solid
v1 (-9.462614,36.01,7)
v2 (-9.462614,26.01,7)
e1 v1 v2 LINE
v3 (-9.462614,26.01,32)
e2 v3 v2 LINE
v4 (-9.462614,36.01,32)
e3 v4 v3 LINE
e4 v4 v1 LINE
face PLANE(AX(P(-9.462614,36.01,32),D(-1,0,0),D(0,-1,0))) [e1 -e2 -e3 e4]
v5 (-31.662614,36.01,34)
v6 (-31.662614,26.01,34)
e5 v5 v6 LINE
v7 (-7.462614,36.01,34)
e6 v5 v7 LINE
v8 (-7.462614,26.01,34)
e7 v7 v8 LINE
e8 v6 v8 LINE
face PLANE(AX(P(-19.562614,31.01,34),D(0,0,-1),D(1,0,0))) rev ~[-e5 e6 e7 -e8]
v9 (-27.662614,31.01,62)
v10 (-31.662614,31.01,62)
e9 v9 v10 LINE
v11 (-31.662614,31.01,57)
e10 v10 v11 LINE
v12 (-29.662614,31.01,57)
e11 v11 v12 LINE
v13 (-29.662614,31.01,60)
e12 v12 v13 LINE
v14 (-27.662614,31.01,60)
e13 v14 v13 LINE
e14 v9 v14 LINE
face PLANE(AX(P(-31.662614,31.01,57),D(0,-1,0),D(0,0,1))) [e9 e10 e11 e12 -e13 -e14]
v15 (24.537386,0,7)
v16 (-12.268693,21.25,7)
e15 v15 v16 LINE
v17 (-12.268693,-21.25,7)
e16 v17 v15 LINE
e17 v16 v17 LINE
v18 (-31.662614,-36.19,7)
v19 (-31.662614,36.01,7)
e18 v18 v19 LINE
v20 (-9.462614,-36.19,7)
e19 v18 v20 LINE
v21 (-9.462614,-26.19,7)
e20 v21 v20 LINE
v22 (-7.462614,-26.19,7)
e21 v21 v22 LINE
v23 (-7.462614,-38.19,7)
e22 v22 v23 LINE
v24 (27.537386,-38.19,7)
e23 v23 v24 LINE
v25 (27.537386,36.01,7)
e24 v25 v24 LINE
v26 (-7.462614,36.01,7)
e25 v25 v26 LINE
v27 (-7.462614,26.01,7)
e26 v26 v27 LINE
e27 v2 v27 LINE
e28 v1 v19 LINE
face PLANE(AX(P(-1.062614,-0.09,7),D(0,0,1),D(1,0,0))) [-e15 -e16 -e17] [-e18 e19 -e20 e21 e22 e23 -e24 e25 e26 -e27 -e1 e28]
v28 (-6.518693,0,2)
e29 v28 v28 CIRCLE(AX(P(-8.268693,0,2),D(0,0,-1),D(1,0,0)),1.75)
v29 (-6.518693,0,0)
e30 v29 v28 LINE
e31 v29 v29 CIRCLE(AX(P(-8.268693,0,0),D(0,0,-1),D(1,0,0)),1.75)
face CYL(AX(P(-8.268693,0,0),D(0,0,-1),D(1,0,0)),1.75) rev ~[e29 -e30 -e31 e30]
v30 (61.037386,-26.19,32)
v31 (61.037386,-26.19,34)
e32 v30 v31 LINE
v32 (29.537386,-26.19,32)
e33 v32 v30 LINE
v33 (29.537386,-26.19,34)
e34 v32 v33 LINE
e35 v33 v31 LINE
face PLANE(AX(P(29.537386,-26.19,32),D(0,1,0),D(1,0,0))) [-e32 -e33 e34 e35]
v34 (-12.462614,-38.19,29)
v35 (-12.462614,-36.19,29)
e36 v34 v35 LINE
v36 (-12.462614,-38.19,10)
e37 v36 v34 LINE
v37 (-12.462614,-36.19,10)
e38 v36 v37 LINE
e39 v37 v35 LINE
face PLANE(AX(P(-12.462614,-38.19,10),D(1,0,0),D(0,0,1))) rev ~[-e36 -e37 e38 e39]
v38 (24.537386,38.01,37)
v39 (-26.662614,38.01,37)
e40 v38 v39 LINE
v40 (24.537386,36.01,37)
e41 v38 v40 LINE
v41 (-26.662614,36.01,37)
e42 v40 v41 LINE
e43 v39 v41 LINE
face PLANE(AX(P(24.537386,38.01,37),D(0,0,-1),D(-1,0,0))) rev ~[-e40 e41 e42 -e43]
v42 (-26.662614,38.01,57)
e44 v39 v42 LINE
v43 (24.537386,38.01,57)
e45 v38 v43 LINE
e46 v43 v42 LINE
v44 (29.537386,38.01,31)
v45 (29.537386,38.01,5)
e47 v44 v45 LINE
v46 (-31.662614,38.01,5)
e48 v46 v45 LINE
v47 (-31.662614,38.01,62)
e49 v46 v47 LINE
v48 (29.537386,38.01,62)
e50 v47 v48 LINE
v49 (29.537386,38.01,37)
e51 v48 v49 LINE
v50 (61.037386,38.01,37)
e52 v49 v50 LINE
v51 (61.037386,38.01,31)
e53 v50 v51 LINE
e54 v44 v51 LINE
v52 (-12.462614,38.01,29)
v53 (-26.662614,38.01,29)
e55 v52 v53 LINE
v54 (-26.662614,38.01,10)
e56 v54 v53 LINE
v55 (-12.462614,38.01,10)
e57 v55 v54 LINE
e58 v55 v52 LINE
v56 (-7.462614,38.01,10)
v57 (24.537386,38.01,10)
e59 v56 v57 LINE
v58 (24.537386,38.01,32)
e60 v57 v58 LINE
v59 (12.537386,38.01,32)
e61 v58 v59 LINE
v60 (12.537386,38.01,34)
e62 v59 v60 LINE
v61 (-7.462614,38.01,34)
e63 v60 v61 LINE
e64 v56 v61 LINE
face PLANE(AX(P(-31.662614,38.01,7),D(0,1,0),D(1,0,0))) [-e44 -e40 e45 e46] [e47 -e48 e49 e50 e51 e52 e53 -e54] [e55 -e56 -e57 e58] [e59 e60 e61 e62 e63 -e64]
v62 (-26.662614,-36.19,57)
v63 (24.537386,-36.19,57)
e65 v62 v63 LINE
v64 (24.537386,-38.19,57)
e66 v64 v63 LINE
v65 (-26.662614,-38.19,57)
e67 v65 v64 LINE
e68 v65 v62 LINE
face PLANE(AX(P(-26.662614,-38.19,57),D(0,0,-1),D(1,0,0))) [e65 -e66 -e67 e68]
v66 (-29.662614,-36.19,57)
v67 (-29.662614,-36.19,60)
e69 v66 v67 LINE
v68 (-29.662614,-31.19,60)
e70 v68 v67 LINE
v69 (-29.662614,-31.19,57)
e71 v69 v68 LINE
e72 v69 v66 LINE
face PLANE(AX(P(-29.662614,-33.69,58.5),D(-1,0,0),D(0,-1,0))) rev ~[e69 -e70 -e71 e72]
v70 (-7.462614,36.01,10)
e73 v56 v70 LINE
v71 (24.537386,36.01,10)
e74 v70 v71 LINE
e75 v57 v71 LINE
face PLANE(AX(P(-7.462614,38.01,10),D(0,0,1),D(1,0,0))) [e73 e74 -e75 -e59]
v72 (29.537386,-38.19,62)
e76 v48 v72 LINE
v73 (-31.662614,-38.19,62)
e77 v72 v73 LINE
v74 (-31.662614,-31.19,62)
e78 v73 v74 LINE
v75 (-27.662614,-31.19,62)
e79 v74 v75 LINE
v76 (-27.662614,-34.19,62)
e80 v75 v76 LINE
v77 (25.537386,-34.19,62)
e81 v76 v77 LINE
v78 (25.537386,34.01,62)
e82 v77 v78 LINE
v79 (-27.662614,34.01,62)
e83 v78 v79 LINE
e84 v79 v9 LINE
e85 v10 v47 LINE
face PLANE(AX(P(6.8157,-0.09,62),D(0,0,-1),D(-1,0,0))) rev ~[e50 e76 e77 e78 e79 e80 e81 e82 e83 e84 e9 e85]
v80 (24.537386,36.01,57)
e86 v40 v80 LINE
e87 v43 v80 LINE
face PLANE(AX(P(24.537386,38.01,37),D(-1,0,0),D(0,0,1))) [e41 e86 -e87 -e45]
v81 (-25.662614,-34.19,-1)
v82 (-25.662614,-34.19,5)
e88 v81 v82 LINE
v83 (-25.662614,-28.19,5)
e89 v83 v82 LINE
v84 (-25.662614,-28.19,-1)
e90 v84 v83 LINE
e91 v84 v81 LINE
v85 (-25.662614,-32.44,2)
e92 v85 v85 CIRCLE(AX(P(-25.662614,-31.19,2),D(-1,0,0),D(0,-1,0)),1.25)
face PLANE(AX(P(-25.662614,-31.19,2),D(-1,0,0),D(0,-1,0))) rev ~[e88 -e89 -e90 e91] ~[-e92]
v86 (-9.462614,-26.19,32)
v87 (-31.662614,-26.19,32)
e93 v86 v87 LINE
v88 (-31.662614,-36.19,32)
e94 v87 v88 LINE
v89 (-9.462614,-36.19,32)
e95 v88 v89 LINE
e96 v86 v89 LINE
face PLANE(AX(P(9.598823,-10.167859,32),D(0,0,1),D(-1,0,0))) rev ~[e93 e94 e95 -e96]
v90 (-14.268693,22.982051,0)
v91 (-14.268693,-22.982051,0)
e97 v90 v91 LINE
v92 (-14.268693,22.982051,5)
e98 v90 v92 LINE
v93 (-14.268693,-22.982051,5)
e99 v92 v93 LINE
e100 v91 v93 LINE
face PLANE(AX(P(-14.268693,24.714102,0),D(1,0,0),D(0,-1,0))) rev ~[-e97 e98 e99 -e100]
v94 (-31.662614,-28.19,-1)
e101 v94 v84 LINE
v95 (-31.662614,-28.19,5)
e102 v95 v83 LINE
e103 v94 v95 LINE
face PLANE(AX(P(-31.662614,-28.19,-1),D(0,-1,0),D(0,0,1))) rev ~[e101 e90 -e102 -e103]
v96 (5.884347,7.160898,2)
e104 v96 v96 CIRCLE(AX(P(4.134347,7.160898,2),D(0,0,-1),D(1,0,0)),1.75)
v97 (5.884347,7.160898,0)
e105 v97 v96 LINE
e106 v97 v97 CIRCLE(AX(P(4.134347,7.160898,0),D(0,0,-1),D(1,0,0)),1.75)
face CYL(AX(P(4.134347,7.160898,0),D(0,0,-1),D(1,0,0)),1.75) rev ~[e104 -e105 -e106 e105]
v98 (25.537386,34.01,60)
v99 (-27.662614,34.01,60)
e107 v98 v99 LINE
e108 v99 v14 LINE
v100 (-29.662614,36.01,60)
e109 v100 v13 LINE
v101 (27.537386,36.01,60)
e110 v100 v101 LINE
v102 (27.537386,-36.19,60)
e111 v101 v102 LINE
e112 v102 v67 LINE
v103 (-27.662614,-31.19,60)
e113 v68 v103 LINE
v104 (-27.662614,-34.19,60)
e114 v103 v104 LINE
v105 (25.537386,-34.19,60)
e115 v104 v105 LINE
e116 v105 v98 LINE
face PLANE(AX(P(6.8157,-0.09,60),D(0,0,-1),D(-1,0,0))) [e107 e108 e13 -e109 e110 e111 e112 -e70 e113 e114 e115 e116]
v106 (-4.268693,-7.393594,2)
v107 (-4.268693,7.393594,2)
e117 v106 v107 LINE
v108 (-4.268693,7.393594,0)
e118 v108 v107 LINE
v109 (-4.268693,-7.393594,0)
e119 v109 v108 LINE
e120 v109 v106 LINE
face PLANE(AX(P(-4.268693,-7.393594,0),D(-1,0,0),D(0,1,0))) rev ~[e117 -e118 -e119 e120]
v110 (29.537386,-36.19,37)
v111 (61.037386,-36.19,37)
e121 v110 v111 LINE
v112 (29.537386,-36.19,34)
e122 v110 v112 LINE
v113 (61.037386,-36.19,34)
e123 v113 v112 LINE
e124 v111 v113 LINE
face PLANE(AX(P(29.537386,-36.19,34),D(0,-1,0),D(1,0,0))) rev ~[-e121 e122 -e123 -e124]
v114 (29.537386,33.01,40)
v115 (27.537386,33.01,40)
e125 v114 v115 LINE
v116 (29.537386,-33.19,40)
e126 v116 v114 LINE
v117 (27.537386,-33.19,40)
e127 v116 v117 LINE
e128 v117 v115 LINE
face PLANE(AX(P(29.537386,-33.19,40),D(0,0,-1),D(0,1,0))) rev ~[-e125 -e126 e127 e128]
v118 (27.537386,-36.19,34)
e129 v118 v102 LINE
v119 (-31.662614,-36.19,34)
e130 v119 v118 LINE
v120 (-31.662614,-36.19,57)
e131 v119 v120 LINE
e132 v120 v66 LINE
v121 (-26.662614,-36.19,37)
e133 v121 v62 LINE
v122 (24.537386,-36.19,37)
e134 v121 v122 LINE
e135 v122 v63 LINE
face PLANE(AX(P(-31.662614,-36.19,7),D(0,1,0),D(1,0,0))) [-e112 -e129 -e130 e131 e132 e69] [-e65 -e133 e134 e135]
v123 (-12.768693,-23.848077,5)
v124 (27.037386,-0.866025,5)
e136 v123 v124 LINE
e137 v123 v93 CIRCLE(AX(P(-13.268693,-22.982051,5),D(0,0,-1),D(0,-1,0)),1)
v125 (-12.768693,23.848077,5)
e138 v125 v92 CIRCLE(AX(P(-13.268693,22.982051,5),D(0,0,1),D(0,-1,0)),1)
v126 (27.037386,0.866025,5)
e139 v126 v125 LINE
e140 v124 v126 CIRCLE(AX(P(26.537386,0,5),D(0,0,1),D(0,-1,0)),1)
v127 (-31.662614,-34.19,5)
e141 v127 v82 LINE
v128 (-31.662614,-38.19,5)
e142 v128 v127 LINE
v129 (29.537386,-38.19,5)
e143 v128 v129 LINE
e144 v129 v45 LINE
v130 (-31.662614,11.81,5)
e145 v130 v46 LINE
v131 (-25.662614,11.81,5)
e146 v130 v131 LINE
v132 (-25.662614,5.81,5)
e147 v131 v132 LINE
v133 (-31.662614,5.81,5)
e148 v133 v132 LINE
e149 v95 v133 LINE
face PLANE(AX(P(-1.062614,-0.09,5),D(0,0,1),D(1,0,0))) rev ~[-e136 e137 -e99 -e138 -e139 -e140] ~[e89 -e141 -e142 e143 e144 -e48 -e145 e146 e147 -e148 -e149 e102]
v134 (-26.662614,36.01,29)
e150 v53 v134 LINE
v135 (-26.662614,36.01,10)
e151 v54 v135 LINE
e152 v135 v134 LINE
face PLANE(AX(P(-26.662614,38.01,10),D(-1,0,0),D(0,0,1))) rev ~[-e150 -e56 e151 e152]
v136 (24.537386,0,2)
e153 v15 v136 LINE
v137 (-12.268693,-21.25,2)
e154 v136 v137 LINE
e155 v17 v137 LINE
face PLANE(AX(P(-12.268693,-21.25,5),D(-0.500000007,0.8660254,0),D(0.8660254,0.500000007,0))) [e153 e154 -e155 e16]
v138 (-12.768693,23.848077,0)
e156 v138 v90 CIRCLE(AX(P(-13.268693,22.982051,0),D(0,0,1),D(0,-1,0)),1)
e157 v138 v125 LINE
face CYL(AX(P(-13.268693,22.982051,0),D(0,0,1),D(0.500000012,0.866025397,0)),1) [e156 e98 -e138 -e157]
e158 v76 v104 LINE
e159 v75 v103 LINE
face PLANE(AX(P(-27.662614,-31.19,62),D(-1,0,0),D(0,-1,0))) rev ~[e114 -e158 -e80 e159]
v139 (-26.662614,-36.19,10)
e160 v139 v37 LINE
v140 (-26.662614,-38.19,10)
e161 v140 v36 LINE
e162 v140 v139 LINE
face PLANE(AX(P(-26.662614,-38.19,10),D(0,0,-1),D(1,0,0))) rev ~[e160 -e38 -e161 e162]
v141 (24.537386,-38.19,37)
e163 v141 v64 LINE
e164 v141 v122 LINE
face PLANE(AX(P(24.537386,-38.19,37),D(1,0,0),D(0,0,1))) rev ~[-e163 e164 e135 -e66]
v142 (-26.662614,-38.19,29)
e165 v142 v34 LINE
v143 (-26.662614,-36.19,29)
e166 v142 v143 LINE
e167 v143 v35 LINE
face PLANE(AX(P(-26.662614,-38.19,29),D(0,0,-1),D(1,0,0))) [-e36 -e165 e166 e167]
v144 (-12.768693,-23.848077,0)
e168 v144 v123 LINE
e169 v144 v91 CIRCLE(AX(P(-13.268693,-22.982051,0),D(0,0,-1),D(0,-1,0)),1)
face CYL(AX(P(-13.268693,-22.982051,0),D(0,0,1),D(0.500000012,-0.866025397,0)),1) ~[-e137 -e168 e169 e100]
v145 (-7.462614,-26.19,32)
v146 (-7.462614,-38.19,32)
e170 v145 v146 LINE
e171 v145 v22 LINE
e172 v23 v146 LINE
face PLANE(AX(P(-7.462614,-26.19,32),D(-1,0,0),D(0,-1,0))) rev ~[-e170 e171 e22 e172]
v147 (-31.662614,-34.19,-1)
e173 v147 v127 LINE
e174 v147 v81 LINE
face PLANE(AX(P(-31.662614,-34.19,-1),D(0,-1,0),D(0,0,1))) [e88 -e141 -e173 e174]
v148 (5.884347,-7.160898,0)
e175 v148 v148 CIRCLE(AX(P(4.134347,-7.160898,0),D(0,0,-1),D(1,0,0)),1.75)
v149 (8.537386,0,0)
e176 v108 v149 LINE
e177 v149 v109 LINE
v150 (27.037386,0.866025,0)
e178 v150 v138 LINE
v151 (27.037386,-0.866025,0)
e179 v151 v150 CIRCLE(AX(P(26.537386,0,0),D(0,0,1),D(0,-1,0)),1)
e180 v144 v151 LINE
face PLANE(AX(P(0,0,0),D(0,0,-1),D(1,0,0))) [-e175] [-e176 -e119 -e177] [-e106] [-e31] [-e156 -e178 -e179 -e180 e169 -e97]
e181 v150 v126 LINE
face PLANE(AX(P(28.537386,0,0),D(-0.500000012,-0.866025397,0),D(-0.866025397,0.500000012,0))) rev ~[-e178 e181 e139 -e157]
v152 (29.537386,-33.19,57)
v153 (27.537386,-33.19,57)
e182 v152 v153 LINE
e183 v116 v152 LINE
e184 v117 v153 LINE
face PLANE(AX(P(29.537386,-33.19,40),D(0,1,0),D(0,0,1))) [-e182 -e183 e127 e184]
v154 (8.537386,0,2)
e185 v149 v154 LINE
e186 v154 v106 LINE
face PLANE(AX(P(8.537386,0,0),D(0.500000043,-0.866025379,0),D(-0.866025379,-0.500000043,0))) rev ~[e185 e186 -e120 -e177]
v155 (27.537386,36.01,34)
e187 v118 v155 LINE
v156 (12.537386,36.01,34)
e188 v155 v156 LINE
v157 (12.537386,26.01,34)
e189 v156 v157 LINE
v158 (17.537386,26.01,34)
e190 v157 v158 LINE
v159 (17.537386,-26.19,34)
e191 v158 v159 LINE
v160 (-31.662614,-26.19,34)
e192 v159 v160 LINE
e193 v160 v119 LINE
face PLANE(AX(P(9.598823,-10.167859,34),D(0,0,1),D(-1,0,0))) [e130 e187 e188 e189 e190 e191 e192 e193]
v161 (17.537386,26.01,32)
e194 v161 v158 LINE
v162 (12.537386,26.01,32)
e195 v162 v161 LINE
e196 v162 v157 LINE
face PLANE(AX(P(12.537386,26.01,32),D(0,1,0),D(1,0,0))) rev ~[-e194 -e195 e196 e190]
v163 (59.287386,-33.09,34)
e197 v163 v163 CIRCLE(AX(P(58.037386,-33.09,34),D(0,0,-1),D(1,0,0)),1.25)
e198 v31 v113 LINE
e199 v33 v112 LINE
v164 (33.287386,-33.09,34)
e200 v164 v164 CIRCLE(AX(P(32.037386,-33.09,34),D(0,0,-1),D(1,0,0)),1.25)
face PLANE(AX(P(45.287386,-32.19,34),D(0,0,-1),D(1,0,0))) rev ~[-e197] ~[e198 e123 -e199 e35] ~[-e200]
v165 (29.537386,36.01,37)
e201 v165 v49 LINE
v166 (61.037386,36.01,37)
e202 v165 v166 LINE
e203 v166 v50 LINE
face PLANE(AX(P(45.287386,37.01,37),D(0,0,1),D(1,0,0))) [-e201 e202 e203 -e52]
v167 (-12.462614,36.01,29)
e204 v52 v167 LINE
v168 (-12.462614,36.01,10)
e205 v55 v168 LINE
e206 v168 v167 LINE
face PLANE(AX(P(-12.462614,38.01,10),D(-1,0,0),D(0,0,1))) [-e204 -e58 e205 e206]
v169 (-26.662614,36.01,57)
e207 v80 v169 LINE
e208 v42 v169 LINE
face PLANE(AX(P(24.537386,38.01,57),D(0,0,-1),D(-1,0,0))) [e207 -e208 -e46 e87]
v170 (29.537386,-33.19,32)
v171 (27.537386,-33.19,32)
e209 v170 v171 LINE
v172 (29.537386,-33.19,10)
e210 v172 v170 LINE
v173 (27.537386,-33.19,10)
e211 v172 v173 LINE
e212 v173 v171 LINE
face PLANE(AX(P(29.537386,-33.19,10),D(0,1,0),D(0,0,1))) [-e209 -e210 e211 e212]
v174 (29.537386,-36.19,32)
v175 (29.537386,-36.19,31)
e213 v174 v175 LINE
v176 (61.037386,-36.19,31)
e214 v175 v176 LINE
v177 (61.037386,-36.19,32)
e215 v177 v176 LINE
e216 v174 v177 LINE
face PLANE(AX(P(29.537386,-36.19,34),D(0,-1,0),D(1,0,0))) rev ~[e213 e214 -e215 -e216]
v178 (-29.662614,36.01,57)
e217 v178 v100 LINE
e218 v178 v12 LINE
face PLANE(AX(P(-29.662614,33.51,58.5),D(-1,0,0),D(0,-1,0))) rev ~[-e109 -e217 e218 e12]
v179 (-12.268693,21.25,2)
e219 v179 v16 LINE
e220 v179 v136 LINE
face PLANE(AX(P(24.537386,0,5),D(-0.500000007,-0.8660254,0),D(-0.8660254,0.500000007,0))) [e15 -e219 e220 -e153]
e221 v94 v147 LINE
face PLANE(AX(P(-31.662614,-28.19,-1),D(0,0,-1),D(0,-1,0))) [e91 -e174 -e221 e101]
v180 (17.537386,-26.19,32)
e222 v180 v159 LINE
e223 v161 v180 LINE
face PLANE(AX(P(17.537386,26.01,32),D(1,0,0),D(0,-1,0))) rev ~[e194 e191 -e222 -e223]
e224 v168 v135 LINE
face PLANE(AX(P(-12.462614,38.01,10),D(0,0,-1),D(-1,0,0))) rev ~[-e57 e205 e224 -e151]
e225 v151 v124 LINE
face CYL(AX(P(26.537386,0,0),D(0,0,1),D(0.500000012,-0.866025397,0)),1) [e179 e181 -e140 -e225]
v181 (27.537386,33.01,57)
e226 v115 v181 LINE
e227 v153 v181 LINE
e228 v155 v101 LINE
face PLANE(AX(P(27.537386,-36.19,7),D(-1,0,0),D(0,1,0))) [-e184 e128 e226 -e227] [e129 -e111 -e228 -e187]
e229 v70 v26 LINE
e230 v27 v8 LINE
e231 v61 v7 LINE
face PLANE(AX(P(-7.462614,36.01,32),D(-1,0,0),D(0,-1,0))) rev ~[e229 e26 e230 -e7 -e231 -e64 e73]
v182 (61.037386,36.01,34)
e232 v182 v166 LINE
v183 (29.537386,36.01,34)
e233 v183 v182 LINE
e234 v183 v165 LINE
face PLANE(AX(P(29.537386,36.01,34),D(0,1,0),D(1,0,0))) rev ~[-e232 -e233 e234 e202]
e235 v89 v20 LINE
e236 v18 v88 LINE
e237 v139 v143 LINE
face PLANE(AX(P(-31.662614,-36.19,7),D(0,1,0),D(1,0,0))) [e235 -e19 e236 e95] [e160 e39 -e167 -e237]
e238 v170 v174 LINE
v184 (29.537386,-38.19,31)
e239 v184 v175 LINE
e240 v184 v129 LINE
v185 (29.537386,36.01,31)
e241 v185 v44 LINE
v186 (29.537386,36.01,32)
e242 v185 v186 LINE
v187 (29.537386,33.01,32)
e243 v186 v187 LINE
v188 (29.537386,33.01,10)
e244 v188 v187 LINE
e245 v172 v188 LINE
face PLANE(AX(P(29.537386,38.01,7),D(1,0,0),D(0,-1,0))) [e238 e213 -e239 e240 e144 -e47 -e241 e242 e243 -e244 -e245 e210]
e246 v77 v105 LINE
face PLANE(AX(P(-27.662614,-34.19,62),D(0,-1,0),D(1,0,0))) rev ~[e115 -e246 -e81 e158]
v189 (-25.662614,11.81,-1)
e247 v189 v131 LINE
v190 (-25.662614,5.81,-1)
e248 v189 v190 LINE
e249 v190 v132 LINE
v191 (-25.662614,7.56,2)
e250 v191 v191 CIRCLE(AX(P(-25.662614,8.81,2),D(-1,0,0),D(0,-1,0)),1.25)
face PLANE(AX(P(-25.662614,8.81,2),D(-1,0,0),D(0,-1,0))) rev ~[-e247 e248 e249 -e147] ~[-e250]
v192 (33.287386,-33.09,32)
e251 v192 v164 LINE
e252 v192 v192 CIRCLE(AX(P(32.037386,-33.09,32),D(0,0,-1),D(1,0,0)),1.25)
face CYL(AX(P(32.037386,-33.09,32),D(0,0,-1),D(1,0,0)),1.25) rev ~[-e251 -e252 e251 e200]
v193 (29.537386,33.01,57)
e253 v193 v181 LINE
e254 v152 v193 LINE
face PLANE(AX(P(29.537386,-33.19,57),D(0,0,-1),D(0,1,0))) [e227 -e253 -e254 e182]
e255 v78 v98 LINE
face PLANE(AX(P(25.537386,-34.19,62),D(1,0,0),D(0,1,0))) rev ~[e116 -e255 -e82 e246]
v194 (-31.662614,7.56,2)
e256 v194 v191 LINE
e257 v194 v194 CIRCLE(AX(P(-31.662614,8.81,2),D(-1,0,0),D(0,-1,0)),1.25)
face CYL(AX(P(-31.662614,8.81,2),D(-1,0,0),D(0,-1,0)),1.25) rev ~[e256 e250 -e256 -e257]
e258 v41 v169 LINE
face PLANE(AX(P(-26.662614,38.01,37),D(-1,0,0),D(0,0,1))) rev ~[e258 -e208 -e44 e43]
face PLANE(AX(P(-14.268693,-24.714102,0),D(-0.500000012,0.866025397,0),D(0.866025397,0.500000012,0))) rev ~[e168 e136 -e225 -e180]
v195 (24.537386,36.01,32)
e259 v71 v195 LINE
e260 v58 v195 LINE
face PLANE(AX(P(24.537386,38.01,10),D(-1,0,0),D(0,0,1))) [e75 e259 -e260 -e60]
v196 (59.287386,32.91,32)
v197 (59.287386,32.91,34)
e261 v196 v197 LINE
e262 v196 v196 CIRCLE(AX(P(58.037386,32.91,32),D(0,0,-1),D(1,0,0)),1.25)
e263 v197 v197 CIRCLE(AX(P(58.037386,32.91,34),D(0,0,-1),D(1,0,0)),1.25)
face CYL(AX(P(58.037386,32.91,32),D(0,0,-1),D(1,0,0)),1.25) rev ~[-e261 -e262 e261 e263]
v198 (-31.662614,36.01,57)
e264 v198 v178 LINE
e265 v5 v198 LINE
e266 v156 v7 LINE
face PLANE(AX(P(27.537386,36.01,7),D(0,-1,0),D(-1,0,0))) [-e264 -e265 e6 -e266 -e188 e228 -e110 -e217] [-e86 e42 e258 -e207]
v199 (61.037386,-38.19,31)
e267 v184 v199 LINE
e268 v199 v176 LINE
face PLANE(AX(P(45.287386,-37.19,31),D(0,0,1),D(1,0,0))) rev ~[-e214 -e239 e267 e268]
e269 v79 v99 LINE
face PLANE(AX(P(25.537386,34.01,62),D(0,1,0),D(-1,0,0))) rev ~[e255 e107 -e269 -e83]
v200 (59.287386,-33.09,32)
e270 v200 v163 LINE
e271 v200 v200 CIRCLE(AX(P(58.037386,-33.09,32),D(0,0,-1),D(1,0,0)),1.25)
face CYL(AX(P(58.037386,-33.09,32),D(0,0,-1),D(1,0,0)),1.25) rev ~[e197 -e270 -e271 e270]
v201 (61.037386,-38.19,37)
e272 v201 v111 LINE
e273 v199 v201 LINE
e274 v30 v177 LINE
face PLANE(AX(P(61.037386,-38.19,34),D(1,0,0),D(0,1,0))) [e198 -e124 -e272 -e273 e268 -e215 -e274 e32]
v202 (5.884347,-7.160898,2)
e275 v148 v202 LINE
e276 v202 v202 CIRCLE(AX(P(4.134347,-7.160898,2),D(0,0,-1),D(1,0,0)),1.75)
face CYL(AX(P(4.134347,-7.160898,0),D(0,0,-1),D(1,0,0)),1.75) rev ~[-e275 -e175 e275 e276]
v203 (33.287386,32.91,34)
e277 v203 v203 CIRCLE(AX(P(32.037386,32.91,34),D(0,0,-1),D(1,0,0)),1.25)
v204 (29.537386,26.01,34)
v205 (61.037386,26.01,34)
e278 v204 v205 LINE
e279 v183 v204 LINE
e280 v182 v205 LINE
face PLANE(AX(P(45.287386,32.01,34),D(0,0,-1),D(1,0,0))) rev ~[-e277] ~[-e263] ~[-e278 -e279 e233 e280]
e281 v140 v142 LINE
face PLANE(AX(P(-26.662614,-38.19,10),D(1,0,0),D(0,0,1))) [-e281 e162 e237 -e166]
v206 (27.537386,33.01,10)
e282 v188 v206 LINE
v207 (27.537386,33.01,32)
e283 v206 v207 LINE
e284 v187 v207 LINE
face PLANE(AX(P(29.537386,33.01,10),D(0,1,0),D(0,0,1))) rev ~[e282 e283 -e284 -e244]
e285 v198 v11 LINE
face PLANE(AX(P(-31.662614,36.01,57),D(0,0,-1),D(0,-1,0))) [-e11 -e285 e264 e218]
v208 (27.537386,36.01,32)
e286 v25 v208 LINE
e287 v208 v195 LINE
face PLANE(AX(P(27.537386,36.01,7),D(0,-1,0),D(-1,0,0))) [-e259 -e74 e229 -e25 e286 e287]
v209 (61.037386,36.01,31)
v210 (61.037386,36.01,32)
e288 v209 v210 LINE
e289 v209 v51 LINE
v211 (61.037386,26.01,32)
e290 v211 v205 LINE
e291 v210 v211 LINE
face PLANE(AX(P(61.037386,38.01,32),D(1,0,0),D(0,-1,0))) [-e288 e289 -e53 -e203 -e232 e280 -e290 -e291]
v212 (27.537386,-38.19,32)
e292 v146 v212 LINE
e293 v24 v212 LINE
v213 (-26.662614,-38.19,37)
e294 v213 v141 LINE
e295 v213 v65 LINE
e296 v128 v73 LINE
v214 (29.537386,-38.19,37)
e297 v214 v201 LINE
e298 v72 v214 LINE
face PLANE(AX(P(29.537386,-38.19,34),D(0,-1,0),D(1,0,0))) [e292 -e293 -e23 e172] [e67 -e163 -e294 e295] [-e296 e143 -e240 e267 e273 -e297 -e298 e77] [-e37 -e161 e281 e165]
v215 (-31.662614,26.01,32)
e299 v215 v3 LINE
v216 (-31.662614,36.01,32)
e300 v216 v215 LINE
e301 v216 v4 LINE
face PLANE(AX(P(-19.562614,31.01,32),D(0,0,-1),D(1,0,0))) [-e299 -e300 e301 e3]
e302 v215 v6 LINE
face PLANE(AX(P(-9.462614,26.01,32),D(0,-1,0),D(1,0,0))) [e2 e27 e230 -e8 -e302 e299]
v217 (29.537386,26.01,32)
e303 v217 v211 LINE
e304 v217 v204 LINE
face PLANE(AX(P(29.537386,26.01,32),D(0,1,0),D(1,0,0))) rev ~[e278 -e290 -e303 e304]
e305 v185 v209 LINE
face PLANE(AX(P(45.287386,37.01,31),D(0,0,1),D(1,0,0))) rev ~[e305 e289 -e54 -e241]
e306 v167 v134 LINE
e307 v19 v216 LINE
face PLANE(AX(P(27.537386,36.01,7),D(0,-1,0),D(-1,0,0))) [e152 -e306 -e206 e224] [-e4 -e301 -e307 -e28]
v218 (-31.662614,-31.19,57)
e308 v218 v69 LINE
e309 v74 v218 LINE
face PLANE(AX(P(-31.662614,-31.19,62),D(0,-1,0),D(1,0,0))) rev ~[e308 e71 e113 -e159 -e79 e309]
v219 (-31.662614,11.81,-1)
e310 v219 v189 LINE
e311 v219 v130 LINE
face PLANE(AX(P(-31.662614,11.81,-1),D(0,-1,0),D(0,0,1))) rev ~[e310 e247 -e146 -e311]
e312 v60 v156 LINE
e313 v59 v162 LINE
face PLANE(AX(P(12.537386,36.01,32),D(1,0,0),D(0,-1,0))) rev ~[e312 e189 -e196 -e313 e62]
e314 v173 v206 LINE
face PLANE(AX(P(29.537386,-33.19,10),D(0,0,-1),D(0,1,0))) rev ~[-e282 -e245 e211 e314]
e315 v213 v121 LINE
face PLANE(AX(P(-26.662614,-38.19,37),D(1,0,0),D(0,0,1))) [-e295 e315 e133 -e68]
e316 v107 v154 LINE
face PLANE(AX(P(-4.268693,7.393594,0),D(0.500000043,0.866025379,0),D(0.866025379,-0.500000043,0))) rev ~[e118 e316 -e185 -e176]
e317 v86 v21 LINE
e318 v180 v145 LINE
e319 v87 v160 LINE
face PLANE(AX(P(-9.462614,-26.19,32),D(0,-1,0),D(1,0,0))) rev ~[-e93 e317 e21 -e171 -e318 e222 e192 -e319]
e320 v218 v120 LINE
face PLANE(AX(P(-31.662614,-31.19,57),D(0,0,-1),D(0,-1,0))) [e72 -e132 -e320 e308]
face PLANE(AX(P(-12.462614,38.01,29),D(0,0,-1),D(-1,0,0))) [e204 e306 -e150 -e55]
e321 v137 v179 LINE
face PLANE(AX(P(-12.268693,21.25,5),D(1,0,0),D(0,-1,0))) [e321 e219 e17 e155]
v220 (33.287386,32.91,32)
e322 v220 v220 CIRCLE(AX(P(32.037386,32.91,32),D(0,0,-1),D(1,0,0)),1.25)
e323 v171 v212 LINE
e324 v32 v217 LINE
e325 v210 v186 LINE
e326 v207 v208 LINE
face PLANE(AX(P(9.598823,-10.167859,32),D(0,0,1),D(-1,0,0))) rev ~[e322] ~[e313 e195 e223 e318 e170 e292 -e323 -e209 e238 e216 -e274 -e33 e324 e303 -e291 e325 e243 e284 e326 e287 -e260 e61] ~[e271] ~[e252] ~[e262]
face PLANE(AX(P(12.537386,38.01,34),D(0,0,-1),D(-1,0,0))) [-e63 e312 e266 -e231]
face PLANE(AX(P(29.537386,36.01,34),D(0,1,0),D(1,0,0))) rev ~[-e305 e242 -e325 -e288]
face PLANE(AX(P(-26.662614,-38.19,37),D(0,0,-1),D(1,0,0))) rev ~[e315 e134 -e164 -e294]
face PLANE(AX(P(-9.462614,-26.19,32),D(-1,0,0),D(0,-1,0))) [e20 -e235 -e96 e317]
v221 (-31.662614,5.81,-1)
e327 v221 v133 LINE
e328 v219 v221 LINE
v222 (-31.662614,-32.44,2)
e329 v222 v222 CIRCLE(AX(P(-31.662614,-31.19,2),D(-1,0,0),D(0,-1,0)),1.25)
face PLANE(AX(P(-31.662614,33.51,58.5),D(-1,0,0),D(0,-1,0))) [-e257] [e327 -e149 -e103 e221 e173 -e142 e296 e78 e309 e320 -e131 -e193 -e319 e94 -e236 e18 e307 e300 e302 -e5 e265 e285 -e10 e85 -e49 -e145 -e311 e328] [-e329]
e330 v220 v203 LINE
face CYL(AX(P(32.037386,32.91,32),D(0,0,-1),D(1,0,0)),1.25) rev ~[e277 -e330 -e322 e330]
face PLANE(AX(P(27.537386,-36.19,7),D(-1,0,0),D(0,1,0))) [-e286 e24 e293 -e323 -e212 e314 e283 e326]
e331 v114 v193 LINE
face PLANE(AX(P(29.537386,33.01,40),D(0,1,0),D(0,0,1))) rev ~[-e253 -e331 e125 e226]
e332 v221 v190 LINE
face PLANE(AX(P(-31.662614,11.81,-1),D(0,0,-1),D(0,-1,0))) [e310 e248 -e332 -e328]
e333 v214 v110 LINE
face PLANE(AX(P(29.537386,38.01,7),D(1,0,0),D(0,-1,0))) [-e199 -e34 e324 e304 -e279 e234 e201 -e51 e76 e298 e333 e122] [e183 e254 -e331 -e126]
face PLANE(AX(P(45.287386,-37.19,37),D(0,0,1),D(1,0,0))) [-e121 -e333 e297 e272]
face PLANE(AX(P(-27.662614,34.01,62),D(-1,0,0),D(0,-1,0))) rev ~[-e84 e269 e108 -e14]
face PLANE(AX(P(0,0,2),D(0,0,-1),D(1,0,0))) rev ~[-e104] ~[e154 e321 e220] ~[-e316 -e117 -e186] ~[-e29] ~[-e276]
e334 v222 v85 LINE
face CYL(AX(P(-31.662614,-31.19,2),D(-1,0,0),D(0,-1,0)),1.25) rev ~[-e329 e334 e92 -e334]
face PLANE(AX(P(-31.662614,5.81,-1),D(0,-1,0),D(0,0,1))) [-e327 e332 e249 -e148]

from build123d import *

# Parameters (mm, degrees)
PAD_DEPTH       = 5
FILLET_R        = 1
FILLET001_R     = 1
FILLET002_R     = 1
SKETCH001_R     = 1.75
PAD001_DEPTH    = 2
SKETCH002_W     = 61.2
SKETCH002_H     = 76.2
PAD002_DEPTH    = 2
PAD003_DEPTH    = 55
SKETCH004_W     = 35
SKETCH004_H     = 25
SKETCH004_W_2   = 14.2
SKETCH004_H_2   = 19
SKETCH004_W_3   = 51.2
SKETCH004_H_3   = 20
POCKET_DEPTH    = 2
SKETCH005_W     = 14.2
SKETCH005_H     = 19
SKETCH005_W_2   = 51.2
SKETCH005_H_2   = 20
POCKET001_DEPTH = 2
SKETCH006_W     = 66.2
SKETCH006_H     = 22
SKETCH006_H_2   = 17
POCKET002_DEPTH = 2
SKETCH007_W     = 24.2
SKETCH007_H     = 10
SKETCH007_W_2   = 31.5
SKETCH007_H_2   = 12
SKETCH007_R     = 1.25
PAD004_DEPTH    = 2
SKETCH008_W     = 31.5
SKETCH008_H     = 2
PAD005_DEPTH    = 3
PAD006_DEPTH    = 2
SKETCH010_W     = 5
SKETCH010_H     = 3
PAD007_DEPTH    = 2
SKETCH011_W     = 6
SKETCH011_H     = 6
SKETCH011_R     = 1.25
PAD008_DEPTH    = 6
SKETCH012_W     = 2
SKETCH012_H     = 10
PAD009_DEPTH    = 25


with BuildPart() as part:
    # Sketch → Pad (new body)
    with BuildSketch(Plane.XY):
        Polygon((28.537386, 0), (-14.268693, 24.714102), (-14.268693, -24.714102), align=None)
        Polygon((24.537386, 0), (-12.268693, 21.25), (-12.268693, -21.25), align=None, mode=Mode.SUBTRACT)
    extrude(amount=PAD_DEPTH)

    # Fillet
    fillet_edges = [part.edges().sort_by_distance(p)[0] for p in [
        (-14.268693, -24.714102, 2.5),
    ]]
    fillet(fillet_edges, radius=FILLET_R)

    # Fillet001
    fillet001_edges = [part.edges().sort_by_distance(p)[0] for p in [
        (28.537386, 0, 2.5),
    ]]
    fillet(fillet001_edges, radius=FILLET001_R)

    # Fillet002
    fillet002_edges = [part.edges().sort_by_distance(p)[0] for p in [
        (-14.268693, 24.714102, 2.5),
    ]]
    fillet(fillet002_edges, radius=FILLET002_R)

    # Sketch001 (on Face1 of Fillet002) → Pad001 (join)
    with BuildSketch(Plane(origin=(0, 0, 0), x_dir=(1, 0, 0), z_dir=(0, 0, -1))):
        Polygon((24.537386, 0), (-12.268693, 21.25), (-12.268693, -21.25), align=None)
        with Locations((4.134347, 7.160898)):
            Circle(SKETCH001_R, mode=Mode.SUBTRACT)
        with Locations((4.134347, -7.160898)):
            Circle(SKETCH001_R, mode=Mode.SUBTRACT)
        with Locations((-8.268693, 0)):
            Circle(SKETCH001_R, mode=Mode.SUBTRACT)
        Polygon((8.537386, 0), (-4.268693, 7.393594), (-4.268693, -7.393594), align=None, mode=Mode.SUBTRACT)
    extrude(amount=-PAD001_DEPTH)

    # Sketch002 (on Face9 of Pad001) → Pad002 (join)
    with BuildSketch(Plane.XY.offset(5)):
        with Locations((-1.062614, -0.09)):
            Rectangle(SKETCH002_W, SKETCH002_H)
        Polygon((-12.268693, 21.25), (-12.268693, -21.25), (24.537386, 0), align=None, mode=Mode.SUBTRACT)
    extrude(amount=PAD002_DEPTH)

    # Sketch003 (on Face21 of Pad002) → Pad003 (join)
    with BuildSketch(Plane.XY.offset(7)):
        Polygon((-31.662614, 38.01), (29.537386, 38.01), (29.537386, -38.19), (-31.662614, -38.19), (-31.662614, -36.19), (27.537386, -36.19), (27.537386, 36.01), (-31.662614, 36.01), align=None)
    extrude(amount=PAD003_DEPTH)

    # Sketch004 (on Face26 of Pad003) → Pocket (cut)
    with BuildSketch(Plane.XZ.offset(38.19)):
        with Locations((10.037386, 19.5)):
            Rectangle(SKETCH004_W, SKETCH004_H)
        with Locations((-19.562614, 19.5)):
            Rectangle(SKETCH004_W_2, SKETCH004_H_2)
        with Locations((-1.062614, 47)):
            Rectangle(SKETCH004_W_3, SKETCH004_H_3)
    extrude(amount=-POCKET_DEPTH, mode=Mode.SUBTRACT)

    # Sketch005 (on Face21 of Pocket) → Pocket001 (cut)
    with BuildSketch(Plane(origin=(0, 38.01, 0), x_dir=(-1, 0, 0), z_dir=(0, 1, 0))):
        Polygon((-24.537386, 32), (-12.537386, 32), (-12.537386, 34), (7.462614, 34), (7.462614, 32), (7.462614, 10), (-24.537386, 10), align=None)
        with Locations((19.562614, 19.5)):
            Rectangle(SKETCH005_W, SKETCH005_H)
        with Locations((1.062614, 47)):
            Rectangle(SKETCH005_W_2, SKETCH005_H_2)
    extrude(amount=-POCKET001_DEPTH, mode=Mode.SUBTRACT)

    # Sketch006 (on Face25 of Pocket001) → Pocket002 (cut)
    with BuildSketch(Plane.YZ.offset(29.537386)):
        with Locations((-0.09, 21)):
            Rectangle(SKETCH006_W, SKETCH006_H)
        with Locations((-0.09, 48.5)):
            Rectangle(SKETCH006_W, SKETCH006_H_2)
    extrude(amount=-POCKET002_DEPTH, mode=Mode.SUBTRACT)

    # Sketch007 (on Face62 of Pocket002) → Pad004 (join)
    with BuildSketch(Plane(origin=(0, 0, 32), x_dir=(1, 0, 0), z_dir=(0, 0, -1))):
        Polygon((-31.662614, 36.19), (27.537386, 36.19), (27.537386, -36.01), (12.537386, -36.01), (12.537386, -26.01), (17.537386, -26.01), (17.537386, 26.19), (-31.662614, 26.19), align=None)
        with Locations((-19.562614, -31.01)):
            Rectangle(SKETCH007_W, SKETCH007_H)
        with Locations((45.287386, -32.01)):
            Rectangle(SKETCH007_W_2, SKETCH007_H_2)
        with Locations((58.037386, -32.91)):
            Circle(SKETCH007_R, mode=Mode.SUBTRACT)
        with Locations((32.037386, -32.91)):
            Circle(SKETCH007_R, mode=Mode.SUBTRACT)
        with Locations((45.287386, 32.19)):
            Rectangle(SKETCH007_W_2, SKETCH007_H_2)
        with Locations((32.037386, 33.09)):
            Circle(SKETCH007_R, mode=Mode.SUBTRACT)
        with Locations((58.037386, 33.09)):
            Circle(SKETCH007_R, mode=Mode.SUBTRACT)
    extrude(amount=-PAD004_DEPTH)

    # Sketch008 (on Face78 of Pad004) → Pad005 (join, symmetric)
    with BuildSketch(Plane.XY.offset(34)):
        with Locations((45.287386, 37.01)):
            Rectangle(SKETCH008_W, SKETCH008_H)
        with Locations((45.287386, -37.19)):
            Rectangle(SKETCH008_W, SKETCH008_H)
    extrude(amount=PAD005_DEPTH, both=True)

    # Sketch009 (on Face31 of Pad005) → Pad006 (join)
    with BuildSketch(Plane.XY.offset(62)):
        Polygon((-31.662614, 36.01), (27.537386, 36.01), (27.537386, -36.19), (-31.662614, -36.19), (-31.662614, -34.19), (-31.662614, -31.19), (-27.662614, -31.19), (-27.662614, -34.19), (25.537386, -34.19), (25.537386, 34.01), (-27.662614, 34.01), (-27.662614, 31.01), (-31.662614, 31.01), (-31.662614, 34.01), align=None)
    extrude(amount=-PAD006_DEPTH)

    # Sketch010 (on Face24 of Pad006) → Pad007 (join)
    with BuildSketch(Plane(origin=(-31.662614, 0, 0), x_dir=(0, -1, 0), z_dir=(-1, 0, 0))):
        with Locations((-33.51, 58.5)):
            Rectangle(SKETCH010_W, SKETCH010_H)
        with Locations((33.69, 58.5)):
            Rectangle(SKETCH010_W, SKETCH010_H)
    extrude(amount=-PAD007_DEPTH)

    # Sketch011 (on Face17 of Pad007) → Pad008 (join)
    with BuildSketch(Plane(origin=(-31.662614, 0, 0), x_dir=(0, -1, 0), z_dir=(-1, 0, 0))):
        with Locations((31.19, 2)):
            Rectangle(SKETCH011_W, SKETCH011_H)
        with Locations((31.19, 2)):
            Circle(SKETCH011_R, mode=Mode.SUBTRACT)
        with Locations((-8.81, 2)):
            Rectangle(SKETCH011_W, SKETCH011_H)
        with Locations((-8.81, 2)):
            Circle(SKETCH011_R, mode=Mode.SUBTRACT)
    extrude(amount=-PAD008_DEPTH)

    # Sketch012 (on Face119 of Pad008) → Pad009 (join)
    with BuildSketch(Plane(origin=(0, 0, 32), x_dir=(1, 0, 0), z_dir=(0, 0, -1))):
        with Locations((-8.462614, 31.19)):
            Rectangle(SKETCH012_W, SKETCH012_H)
        with Locations((-8.462614, -31.01)):
            Rectangle(SKETCH012_W, SKETCH012_H)
    extrude(amount=PAD009_DEPTH)


solid = part.part
